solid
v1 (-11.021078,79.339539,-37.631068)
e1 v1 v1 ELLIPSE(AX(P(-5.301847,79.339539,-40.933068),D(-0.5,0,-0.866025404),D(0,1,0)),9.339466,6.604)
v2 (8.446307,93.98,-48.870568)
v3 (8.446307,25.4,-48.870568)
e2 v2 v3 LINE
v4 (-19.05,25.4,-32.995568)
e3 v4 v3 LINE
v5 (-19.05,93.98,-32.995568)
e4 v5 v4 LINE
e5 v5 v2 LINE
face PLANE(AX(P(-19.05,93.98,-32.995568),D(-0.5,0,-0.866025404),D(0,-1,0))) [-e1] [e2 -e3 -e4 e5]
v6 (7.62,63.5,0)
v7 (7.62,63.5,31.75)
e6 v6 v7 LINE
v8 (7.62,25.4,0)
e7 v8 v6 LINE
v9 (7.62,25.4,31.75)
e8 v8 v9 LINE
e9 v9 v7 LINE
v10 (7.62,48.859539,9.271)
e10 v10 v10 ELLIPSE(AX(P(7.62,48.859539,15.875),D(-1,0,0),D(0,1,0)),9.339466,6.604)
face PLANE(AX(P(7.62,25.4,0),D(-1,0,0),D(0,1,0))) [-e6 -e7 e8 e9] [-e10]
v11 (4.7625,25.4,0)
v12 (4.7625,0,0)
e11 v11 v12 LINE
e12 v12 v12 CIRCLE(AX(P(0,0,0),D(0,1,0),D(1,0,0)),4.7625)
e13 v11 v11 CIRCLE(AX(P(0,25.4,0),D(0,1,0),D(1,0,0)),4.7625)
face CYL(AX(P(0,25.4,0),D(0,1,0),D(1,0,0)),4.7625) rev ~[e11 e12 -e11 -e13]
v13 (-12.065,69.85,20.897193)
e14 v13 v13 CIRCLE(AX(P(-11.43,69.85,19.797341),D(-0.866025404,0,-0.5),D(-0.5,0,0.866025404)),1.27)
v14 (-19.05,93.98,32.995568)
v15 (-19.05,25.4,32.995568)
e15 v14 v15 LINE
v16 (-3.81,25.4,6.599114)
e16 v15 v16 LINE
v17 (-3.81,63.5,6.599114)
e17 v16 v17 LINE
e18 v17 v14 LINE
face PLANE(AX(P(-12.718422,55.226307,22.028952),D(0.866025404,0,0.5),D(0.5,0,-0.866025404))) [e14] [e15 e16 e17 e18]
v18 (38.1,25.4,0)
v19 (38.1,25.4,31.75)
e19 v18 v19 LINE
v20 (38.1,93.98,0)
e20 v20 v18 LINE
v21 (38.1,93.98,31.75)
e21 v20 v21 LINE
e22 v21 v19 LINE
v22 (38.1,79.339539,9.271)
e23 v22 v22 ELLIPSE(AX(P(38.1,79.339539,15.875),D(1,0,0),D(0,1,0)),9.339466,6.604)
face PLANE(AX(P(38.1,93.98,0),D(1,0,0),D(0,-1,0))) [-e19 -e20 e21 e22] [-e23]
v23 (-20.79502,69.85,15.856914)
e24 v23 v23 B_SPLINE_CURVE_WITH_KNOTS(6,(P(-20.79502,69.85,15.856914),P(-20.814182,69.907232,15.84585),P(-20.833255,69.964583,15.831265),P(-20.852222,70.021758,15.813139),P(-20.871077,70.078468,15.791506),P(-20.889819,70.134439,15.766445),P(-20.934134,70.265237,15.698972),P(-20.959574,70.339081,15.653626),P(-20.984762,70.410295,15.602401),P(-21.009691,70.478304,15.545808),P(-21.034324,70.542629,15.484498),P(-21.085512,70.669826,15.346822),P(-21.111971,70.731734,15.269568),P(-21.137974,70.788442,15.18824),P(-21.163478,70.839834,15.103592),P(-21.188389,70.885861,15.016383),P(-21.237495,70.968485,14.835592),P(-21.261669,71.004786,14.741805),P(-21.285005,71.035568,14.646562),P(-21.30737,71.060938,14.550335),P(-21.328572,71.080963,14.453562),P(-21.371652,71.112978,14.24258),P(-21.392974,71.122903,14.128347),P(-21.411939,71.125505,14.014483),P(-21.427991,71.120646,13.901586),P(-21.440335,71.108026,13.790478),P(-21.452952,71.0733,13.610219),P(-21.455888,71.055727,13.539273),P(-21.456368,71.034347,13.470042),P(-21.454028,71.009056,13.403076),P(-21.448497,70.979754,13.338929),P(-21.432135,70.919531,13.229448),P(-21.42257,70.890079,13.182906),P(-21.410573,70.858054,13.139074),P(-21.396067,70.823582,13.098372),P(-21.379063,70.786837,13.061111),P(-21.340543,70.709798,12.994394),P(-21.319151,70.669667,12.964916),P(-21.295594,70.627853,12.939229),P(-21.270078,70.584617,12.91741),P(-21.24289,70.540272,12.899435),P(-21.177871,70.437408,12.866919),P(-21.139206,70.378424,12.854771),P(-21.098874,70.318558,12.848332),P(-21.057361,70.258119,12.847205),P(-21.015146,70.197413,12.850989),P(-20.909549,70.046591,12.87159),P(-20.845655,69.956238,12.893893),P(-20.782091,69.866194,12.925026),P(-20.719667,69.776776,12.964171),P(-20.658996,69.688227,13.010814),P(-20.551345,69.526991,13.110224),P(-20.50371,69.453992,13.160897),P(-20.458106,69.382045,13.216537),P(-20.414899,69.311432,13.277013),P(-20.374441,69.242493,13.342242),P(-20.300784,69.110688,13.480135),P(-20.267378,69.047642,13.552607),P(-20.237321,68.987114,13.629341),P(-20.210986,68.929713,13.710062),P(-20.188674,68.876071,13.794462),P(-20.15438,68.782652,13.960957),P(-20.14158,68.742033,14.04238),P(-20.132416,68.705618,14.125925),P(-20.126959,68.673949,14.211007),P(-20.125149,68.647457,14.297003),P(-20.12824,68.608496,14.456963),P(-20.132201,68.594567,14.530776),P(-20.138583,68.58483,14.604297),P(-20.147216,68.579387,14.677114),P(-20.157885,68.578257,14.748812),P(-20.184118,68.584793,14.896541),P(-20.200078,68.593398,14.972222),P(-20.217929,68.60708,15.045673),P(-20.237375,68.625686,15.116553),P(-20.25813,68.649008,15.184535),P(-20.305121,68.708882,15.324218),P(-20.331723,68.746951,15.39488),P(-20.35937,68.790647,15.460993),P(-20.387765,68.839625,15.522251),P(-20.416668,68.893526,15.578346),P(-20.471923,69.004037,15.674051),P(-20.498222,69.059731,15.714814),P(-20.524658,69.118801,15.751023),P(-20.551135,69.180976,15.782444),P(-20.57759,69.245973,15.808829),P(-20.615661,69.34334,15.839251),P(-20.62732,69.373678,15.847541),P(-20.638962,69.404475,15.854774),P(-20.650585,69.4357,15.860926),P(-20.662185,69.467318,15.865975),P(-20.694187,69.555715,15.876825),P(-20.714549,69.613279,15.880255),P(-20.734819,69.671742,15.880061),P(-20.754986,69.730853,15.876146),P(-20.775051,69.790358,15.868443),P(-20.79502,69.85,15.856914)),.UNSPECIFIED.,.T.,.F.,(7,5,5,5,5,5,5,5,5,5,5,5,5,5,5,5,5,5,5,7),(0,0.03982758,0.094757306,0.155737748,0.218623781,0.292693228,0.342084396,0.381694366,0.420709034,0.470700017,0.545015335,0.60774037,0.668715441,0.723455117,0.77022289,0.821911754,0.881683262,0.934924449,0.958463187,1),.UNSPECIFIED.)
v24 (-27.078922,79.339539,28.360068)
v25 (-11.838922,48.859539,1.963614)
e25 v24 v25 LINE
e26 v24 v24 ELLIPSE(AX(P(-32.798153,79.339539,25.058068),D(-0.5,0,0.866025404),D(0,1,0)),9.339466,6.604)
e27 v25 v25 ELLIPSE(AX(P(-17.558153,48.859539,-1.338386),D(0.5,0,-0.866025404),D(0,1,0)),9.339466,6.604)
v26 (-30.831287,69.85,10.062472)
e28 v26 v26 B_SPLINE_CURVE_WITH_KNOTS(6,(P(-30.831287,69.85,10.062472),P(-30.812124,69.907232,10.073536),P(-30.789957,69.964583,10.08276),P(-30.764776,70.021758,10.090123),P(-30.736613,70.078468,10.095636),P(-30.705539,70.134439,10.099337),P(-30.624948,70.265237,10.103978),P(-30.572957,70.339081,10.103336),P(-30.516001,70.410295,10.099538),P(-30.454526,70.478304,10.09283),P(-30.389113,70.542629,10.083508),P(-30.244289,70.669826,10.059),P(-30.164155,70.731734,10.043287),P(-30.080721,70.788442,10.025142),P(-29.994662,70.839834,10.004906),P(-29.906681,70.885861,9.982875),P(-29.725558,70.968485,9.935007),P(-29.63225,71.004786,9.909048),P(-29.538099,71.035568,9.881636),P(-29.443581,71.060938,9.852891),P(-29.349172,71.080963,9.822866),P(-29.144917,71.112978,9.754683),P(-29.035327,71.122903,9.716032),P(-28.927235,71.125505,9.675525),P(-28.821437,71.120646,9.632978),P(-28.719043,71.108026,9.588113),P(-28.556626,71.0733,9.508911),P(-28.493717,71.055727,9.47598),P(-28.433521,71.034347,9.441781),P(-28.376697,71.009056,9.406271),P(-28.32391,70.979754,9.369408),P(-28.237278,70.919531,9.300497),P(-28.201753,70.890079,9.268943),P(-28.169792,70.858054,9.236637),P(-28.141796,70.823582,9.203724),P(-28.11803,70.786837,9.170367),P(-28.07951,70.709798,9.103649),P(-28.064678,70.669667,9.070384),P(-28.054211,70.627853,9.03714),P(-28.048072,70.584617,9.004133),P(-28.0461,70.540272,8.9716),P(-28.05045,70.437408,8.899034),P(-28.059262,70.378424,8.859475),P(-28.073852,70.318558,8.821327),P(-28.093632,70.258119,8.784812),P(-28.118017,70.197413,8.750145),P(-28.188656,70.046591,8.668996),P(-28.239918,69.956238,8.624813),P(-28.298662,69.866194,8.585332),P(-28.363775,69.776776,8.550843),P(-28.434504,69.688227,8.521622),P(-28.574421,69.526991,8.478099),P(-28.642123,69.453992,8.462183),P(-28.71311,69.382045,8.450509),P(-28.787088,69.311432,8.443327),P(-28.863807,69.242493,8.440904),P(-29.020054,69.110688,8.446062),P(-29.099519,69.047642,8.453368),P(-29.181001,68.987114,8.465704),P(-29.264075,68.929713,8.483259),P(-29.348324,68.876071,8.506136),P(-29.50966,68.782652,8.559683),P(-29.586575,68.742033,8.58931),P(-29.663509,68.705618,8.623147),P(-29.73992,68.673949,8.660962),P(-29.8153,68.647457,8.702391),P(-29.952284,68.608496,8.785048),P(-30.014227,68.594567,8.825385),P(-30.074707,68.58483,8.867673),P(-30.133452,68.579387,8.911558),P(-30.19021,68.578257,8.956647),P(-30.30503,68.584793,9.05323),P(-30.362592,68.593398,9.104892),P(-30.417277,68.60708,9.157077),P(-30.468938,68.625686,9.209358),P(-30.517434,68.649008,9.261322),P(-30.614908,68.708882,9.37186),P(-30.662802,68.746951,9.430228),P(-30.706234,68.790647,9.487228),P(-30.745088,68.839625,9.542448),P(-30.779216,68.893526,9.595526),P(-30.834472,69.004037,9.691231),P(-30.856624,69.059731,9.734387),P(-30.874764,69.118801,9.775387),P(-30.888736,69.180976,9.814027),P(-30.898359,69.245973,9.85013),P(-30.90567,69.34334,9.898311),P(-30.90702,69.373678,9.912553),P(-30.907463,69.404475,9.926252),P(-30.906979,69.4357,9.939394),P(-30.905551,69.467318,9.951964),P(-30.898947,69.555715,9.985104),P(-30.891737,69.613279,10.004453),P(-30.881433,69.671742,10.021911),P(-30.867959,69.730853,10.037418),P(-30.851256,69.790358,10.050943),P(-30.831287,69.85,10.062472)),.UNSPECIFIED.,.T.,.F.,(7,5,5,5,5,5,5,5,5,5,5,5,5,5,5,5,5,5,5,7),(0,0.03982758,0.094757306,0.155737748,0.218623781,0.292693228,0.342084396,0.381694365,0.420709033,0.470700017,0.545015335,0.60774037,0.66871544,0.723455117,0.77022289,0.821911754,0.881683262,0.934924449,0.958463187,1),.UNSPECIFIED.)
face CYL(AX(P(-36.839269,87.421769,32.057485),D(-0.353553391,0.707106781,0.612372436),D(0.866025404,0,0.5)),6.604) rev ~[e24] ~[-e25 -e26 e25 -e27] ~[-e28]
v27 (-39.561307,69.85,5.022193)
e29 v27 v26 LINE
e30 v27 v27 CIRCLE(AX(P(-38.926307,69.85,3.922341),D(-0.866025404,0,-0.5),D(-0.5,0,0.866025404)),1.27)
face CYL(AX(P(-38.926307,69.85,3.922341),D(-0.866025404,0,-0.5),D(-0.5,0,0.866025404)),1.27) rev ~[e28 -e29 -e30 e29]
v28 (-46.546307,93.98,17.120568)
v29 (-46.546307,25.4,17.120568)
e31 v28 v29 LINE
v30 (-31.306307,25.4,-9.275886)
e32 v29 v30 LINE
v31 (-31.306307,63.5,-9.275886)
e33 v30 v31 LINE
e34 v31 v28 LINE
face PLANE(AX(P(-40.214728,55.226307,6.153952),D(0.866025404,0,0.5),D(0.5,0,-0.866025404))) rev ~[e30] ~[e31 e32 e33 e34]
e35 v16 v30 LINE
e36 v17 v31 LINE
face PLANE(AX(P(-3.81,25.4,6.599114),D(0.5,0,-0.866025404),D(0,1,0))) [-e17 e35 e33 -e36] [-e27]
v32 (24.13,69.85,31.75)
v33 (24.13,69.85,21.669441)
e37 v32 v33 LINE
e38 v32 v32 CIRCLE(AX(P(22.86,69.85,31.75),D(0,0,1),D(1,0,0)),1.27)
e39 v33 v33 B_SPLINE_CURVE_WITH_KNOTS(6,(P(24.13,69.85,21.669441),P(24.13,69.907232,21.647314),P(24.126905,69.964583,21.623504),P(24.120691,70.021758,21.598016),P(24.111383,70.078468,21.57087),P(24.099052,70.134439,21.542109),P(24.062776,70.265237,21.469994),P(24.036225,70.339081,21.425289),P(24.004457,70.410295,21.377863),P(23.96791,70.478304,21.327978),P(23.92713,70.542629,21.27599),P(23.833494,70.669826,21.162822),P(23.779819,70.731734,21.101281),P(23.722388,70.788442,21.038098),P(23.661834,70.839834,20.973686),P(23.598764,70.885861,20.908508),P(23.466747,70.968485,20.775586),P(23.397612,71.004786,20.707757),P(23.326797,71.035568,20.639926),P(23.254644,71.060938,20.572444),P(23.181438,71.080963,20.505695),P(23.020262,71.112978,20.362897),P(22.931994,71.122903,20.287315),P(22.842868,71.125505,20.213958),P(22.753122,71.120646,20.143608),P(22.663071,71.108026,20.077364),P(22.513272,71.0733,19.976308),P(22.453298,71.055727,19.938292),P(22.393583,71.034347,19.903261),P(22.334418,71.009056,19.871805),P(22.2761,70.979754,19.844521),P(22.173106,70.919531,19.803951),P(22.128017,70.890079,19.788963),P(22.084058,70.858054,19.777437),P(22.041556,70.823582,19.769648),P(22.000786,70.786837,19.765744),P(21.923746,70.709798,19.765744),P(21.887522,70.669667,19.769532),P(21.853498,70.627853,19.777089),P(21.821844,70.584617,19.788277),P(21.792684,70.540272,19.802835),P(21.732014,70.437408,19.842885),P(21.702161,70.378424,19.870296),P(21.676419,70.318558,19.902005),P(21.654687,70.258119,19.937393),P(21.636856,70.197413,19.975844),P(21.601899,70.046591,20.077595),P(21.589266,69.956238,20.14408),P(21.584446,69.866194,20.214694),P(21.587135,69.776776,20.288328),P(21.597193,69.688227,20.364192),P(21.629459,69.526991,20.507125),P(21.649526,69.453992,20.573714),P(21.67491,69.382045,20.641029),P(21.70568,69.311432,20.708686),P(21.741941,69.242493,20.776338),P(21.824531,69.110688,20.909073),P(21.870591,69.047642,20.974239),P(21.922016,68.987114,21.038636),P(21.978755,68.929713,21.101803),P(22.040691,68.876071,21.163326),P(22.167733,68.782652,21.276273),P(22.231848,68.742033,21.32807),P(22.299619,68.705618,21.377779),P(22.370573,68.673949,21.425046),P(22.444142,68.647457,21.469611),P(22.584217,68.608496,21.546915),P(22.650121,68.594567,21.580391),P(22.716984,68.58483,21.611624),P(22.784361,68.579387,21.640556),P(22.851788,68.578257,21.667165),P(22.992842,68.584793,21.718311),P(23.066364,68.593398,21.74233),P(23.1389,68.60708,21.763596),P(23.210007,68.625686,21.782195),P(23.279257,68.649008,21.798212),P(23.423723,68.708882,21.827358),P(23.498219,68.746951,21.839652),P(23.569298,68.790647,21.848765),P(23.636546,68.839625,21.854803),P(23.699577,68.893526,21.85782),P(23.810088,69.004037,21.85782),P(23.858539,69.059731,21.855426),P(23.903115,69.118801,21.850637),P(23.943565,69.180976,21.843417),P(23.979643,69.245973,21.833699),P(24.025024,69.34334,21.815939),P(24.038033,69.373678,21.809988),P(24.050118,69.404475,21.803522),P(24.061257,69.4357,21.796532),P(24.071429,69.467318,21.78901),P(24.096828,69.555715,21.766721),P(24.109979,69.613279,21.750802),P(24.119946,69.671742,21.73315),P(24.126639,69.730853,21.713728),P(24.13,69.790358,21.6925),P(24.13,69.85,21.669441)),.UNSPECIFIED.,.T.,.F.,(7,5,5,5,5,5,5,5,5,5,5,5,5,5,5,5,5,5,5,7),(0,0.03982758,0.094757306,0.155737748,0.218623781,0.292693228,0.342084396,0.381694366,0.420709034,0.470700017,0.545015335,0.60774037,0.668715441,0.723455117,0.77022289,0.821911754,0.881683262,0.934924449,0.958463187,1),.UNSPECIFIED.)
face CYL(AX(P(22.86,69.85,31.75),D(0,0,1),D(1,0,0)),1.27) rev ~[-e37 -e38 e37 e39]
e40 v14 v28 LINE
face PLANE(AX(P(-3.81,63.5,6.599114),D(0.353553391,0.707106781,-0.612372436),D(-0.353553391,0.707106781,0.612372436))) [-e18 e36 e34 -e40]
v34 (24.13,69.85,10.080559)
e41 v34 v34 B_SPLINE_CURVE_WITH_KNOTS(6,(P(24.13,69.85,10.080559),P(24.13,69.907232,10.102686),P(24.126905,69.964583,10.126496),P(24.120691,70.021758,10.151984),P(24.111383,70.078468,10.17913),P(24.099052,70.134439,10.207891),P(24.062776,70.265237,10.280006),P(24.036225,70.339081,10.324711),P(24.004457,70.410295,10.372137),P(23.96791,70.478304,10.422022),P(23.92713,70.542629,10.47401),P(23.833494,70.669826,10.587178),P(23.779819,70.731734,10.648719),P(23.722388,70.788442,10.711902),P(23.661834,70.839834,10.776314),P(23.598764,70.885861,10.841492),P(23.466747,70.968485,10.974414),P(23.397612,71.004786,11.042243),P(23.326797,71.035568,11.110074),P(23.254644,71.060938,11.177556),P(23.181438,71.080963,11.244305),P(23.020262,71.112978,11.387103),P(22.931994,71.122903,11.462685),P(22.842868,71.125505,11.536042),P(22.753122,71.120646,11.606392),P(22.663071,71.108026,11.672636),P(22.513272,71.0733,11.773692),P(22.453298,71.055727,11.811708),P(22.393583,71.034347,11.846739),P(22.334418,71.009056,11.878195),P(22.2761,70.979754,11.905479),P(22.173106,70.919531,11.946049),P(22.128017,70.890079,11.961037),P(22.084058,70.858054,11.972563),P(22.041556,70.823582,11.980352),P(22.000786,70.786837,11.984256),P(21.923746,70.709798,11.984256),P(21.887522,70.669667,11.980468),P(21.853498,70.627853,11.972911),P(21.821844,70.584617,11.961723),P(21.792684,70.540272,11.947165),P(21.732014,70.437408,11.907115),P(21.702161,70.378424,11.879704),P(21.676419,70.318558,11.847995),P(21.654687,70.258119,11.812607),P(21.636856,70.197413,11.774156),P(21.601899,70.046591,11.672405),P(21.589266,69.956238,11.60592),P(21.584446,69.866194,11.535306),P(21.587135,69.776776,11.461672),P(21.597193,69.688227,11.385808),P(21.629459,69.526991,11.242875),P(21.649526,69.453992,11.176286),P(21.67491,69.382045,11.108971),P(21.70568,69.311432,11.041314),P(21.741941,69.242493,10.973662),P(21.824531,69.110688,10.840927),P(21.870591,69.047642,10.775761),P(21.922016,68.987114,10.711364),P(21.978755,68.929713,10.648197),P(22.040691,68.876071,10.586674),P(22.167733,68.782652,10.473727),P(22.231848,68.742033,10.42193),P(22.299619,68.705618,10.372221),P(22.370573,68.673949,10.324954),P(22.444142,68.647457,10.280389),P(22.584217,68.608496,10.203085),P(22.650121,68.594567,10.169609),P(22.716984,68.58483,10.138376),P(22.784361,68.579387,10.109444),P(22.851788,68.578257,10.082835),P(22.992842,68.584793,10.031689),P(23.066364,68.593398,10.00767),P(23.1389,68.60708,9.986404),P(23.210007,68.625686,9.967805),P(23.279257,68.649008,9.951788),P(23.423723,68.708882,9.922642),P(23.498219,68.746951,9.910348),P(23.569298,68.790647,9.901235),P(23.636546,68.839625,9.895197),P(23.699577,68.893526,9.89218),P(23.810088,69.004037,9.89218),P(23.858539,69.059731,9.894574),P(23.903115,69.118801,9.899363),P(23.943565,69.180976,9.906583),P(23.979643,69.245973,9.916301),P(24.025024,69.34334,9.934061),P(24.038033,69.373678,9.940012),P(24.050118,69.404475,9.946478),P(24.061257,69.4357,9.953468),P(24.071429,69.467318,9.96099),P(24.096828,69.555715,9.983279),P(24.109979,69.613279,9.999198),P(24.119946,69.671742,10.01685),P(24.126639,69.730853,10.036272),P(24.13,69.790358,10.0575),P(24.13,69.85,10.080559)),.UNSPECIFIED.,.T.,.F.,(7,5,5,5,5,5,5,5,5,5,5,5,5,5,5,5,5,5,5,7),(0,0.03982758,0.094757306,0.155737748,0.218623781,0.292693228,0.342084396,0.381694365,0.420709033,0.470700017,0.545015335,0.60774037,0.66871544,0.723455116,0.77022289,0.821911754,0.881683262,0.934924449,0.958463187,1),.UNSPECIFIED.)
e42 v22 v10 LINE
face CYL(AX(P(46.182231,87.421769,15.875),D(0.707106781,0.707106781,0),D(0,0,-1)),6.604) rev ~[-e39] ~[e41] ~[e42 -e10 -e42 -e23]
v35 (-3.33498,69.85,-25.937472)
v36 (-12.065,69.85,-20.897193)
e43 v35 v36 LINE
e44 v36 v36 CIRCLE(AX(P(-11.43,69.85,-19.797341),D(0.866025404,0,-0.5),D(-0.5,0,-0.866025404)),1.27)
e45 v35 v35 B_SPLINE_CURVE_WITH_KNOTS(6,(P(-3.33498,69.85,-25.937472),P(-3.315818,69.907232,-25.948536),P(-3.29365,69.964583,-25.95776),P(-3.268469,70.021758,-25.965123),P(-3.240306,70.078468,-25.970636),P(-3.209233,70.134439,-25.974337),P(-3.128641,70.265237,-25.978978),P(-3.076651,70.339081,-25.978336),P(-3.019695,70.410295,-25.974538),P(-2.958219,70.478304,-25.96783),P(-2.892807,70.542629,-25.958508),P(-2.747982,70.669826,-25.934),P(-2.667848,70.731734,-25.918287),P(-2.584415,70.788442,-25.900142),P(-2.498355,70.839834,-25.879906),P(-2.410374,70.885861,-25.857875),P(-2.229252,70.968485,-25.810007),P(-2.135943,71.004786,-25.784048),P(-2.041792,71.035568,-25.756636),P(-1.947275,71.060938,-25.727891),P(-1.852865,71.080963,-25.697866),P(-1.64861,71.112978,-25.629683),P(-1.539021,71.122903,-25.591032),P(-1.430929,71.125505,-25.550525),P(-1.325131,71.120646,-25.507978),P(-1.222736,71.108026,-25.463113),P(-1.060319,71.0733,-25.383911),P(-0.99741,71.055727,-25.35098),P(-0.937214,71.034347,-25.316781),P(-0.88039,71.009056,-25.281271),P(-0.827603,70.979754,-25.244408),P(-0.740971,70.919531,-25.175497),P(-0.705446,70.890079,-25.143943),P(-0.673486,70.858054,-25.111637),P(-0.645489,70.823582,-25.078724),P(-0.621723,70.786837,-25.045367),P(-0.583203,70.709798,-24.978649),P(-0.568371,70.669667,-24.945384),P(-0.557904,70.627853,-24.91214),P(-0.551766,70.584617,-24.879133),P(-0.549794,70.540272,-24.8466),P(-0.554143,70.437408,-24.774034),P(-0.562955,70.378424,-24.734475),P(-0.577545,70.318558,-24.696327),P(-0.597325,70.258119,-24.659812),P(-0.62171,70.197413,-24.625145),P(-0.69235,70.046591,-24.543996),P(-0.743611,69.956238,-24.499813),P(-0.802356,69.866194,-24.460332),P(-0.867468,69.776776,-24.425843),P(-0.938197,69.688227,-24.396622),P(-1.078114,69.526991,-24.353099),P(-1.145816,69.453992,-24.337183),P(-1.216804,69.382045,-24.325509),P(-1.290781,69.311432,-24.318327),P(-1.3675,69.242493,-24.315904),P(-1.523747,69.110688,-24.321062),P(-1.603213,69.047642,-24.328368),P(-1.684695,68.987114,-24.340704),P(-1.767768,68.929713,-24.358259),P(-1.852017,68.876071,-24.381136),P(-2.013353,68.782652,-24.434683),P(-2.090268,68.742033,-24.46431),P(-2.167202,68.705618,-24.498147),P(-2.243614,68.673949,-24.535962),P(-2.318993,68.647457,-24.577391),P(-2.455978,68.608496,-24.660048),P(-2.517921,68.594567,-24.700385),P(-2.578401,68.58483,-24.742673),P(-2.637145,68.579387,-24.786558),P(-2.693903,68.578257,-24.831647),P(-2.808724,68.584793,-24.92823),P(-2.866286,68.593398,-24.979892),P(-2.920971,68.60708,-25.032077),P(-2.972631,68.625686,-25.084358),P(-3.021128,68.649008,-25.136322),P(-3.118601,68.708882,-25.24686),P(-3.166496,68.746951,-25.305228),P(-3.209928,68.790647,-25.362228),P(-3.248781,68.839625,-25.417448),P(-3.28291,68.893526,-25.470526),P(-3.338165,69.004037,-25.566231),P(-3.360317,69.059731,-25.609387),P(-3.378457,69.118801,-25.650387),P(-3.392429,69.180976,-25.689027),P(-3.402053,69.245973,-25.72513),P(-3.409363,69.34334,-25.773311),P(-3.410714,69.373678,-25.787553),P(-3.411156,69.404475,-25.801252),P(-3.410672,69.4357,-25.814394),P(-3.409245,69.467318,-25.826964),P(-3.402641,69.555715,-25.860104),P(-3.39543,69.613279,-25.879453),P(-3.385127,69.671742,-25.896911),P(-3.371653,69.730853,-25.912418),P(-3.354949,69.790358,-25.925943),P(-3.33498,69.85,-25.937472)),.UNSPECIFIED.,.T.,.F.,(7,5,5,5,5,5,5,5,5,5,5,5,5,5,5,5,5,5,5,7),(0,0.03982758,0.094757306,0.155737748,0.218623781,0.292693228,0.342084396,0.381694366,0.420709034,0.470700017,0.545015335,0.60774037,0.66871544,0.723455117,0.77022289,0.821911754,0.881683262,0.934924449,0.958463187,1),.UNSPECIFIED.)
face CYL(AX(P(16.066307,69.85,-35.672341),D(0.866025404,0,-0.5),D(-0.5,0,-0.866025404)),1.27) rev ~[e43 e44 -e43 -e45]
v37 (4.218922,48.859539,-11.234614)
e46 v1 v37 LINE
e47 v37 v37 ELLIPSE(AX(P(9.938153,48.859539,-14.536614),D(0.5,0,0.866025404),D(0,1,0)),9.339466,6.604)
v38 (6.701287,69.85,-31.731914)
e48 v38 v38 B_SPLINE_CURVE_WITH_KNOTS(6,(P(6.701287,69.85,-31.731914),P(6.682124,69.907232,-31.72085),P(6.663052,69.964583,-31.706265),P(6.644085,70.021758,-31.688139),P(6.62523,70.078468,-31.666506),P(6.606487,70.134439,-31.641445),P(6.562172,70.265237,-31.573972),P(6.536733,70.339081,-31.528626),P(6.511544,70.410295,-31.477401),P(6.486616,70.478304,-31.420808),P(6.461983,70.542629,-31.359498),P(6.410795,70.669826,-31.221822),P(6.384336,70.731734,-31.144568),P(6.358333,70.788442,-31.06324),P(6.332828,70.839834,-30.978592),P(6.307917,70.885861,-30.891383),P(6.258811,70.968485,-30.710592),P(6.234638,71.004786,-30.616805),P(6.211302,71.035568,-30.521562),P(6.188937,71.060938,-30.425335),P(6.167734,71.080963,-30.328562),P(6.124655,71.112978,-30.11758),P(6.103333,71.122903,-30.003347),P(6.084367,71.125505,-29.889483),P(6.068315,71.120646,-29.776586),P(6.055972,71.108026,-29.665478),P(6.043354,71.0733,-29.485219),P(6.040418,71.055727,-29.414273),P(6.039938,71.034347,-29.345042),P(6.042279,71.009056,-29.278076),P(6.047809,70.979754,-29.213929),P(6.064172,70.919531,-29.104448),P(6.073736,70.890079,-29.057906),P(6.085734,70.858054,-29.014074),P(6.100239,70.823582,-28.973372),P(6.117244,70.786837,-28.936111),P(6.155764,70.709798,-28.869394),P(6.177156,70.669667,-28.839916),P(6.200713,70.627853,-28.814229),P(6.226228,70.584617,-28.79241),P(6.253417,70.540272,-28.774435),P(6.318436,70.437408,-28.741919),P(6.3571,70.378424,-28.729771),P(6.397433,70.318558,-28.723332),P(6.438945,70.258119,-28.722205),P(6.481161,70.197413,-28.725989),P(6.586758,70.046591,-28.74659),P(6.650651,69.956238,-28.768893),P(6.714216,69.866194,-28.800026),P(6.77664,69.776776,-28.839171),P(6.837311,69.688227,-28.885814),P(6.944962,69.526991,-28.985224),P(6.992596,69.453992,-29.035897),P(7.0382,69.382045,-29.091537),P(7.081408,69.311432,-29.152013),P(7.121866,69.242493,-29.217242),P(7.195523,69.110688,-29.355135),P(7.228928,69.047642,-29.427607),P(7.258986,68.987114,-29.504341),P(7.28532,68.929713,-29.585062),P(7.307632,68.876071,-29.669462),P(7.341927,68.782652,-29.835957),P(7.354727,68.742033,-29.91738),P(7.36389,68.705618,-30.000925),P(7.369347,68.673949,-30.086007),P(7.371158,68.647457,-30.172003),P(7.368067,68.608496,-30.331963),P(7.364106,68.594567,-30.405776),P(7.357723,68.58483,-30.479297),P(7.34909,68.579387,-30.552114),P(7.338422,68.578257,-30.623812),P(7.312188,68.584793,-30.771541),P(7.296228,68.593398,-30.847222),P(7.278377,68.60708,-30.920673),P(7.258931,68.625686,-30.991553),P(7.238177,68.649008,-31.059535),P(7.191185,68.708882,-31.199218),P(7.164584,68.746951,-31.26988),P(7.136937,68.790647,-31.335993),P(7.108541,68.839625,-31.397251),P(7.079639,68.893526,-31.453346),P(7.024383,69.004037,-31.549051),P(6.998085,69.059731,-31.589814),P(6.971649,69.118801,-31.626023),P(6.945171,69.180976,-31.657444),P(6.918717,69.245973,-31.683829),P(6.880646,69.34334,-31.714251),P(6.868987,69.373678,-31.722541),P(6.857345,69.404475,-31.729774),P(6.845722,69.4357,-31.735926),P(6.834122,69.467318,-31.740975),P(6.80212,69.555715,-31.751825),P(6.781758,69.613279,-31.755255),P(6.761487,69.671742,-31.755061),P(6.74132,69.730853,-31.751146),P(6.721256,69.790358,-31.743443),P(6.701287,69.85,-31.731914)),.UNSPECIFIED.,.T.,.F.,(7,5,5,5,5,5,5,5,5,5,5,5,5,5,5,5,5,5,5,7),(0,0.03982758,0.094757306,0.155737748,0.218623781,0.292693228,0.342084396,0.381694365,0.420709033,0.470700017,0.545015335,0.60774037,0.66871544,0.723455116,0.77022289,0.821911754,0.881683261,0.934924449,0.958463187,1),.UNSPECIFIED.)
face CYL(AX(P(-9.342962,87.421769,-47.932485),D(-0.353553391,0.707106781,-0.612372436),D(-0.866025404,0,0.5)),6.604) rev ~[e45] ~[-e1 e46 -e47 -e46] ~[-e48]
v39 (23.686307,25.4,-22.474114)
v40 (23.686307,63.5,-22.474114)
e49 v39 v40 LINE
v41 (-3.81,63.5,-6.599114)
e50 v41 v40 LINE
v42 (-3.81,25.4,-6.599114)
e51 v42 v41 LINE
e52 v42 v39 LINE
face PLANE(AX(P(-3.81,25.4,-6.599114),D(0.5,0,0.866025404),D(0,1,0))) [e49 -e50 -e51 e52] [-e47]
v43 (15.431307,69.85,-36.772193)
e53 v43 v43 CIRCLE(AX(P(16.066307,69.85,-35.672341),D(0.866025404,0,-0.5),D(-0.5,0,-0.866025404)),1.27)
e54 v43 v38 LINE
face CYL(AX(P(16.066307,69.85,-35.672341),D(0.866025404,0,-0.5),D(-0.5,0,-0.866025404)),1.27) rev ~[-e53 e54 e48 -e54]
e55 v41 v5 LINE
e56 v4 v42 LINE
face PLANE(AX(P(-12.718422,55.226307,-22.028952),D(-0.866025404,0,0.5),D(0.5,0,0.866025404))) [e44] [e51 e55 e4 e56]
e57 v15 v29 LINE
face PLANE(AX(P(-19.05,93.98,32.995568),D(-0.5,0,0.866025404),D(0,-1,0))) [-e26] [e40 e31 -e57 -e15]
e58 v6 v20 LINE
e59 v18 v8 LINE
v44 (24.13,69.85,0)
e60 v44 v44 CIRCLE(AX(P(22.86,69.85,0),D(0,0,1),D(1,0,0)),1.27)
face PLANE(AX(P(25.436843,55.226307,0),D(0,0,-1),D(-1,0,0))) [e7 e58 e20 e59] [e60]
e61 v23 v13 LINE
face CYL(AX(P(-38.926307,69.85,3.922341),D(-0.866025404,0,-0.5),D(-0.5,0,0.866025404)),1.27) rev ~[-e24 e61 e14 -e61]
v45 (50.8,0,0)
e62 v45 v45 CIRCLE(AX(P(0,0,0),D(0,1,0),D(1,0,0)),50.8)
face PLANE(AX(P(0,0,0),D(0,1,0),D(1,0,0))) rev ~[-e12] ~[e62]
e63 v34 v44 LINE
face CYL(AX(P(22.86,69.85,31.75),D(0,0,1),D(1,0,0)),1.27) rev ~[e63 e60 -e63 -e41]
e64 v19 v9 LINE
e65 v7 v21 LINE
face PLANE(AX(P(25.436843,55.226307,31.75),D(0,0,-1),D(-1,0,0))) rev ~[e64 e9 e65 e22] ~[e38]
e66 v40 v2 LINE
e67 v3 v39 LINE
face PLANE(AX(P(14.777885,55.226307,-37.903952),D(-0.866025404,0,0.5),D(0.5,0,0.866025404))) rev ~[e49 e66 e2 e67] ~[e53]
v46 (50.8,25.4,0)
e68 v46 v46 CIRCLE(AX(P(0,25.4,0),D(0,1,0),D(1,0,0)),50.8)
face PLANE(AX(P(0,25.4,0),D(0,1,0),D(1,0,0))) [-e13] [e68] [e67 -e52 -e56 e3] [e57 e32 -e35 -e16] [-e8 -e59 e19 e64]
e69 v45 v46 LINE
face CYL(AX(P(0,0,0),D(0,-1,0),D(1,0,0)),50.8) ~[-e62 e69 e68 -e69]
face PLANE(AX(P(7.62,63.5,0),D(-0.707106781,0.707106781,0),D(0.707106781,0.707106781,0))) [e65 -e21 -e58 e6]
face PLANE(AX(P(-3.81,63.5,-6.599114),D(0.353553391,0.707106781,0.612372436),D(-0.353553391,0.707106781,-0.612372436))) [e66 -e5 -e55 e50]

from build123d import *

# Parameters (mm, degrees)
SKETCH1_R           = 50.8
BOSS_EXTRUDE1_DEPTH = 25.4
BOSS_EXTRUDE2_DEPTH = 31.75
SKETCH9_R           = 6.604
CUT_EXTRUDE2_DEPTH  = 68.58
SKETCH10_R          = 1.27
CUT_EXTRUDE3_DEPTH  = 68.58
CIRPATTERN3_COUNT   = 3
SKETCH11_R          = 4.7625
CUT_EXTRUDE4_DEPTH  = 25.4


with BuildPart() as part:
    # Sketch1 → Boss-Extrude1 (new body)
    with BuildSketch(Plane(origin=(0, 0, 0), x_dir=(1, 0, 0), z_dir=(0, 1, 0))):
        Circle(SKETCH1_R)
    extrude(amount=BOSS_EXTRUDE1_DEPTH)

    # Sketch4 → Boss-Extrude2 (add)
    with BuildSketch(Plane.XY):
        Polygon((7.62, 25.4), (7.62, 63.5), (38.1, 93.98), (38.1, 25.4), align=None)
    boss_extrude2 = extrude(amount=BOSS_EXTRUDE2_DEPTH)

    # Sketch9 → Cut-Extrude2 (cut)
    with BuildSketch(Plane(origin=(66.802, 66.802, 0), x_dir=(0, 0, -1), z_dir=(0.707106781, 0.707106781, 0))):
        with Locations((-15.875, 29.160757667)):
            Circle(SKETCH9_R)
    cut_extrude2 = extrude(amount=-CUT_EXTRUDE2_DEPTH, mode=Mode.SUBTRACT)

    # Sketch10 → Cut-Extrude3 (cut)
    with BuildSketch(Plane.XY.offset(31.75)):
        with Locations((22.86, 69.85)):
            Circle(SKETCH10_R)
    cut_extrude3 = extrude(amount=-CUT_EXTRUDE3_DEPTH, mode=Mode.SUBTRACT)

    # CirPattern3: Boss-Extrude2, Cut-Extrude2, Cut-Extrude3 ×3 about axis
    cirpattern3_axis = Axis((0, 0, 0), (0, 1, 0))
    for i in range(1, CIRPATTERN3_COUNT):
        add(boss_extrude2.rotate(cirpattern3_axis, i * 360 / CIRPATTERN3_COUNT))
        add(cut_extrude2.rotate(cirpattern3_axis, i * 360 / CIRPATTERN3_COUNT), mode=Mode.SUBTRACT)
        add(cut_extrude3.rotate(cirpattern3_axis, i * 360 / CIRPATTERN3_COUNT), mode=Mode.SUBTRACT)

    # Sketch11 → Cut-Extrude4 (cut)
    with BuildSketch(Plane(origin=(0, 25.4, 0), x_dir=(1, 0, 0), z_dir=(0, 1, 0))):
        Circle(SKETCH11_R)
    extrude(amount=-CUT_EXTRUDE4_DEPTH, mode=Mode.SUBTRACT)


solid = part.part
